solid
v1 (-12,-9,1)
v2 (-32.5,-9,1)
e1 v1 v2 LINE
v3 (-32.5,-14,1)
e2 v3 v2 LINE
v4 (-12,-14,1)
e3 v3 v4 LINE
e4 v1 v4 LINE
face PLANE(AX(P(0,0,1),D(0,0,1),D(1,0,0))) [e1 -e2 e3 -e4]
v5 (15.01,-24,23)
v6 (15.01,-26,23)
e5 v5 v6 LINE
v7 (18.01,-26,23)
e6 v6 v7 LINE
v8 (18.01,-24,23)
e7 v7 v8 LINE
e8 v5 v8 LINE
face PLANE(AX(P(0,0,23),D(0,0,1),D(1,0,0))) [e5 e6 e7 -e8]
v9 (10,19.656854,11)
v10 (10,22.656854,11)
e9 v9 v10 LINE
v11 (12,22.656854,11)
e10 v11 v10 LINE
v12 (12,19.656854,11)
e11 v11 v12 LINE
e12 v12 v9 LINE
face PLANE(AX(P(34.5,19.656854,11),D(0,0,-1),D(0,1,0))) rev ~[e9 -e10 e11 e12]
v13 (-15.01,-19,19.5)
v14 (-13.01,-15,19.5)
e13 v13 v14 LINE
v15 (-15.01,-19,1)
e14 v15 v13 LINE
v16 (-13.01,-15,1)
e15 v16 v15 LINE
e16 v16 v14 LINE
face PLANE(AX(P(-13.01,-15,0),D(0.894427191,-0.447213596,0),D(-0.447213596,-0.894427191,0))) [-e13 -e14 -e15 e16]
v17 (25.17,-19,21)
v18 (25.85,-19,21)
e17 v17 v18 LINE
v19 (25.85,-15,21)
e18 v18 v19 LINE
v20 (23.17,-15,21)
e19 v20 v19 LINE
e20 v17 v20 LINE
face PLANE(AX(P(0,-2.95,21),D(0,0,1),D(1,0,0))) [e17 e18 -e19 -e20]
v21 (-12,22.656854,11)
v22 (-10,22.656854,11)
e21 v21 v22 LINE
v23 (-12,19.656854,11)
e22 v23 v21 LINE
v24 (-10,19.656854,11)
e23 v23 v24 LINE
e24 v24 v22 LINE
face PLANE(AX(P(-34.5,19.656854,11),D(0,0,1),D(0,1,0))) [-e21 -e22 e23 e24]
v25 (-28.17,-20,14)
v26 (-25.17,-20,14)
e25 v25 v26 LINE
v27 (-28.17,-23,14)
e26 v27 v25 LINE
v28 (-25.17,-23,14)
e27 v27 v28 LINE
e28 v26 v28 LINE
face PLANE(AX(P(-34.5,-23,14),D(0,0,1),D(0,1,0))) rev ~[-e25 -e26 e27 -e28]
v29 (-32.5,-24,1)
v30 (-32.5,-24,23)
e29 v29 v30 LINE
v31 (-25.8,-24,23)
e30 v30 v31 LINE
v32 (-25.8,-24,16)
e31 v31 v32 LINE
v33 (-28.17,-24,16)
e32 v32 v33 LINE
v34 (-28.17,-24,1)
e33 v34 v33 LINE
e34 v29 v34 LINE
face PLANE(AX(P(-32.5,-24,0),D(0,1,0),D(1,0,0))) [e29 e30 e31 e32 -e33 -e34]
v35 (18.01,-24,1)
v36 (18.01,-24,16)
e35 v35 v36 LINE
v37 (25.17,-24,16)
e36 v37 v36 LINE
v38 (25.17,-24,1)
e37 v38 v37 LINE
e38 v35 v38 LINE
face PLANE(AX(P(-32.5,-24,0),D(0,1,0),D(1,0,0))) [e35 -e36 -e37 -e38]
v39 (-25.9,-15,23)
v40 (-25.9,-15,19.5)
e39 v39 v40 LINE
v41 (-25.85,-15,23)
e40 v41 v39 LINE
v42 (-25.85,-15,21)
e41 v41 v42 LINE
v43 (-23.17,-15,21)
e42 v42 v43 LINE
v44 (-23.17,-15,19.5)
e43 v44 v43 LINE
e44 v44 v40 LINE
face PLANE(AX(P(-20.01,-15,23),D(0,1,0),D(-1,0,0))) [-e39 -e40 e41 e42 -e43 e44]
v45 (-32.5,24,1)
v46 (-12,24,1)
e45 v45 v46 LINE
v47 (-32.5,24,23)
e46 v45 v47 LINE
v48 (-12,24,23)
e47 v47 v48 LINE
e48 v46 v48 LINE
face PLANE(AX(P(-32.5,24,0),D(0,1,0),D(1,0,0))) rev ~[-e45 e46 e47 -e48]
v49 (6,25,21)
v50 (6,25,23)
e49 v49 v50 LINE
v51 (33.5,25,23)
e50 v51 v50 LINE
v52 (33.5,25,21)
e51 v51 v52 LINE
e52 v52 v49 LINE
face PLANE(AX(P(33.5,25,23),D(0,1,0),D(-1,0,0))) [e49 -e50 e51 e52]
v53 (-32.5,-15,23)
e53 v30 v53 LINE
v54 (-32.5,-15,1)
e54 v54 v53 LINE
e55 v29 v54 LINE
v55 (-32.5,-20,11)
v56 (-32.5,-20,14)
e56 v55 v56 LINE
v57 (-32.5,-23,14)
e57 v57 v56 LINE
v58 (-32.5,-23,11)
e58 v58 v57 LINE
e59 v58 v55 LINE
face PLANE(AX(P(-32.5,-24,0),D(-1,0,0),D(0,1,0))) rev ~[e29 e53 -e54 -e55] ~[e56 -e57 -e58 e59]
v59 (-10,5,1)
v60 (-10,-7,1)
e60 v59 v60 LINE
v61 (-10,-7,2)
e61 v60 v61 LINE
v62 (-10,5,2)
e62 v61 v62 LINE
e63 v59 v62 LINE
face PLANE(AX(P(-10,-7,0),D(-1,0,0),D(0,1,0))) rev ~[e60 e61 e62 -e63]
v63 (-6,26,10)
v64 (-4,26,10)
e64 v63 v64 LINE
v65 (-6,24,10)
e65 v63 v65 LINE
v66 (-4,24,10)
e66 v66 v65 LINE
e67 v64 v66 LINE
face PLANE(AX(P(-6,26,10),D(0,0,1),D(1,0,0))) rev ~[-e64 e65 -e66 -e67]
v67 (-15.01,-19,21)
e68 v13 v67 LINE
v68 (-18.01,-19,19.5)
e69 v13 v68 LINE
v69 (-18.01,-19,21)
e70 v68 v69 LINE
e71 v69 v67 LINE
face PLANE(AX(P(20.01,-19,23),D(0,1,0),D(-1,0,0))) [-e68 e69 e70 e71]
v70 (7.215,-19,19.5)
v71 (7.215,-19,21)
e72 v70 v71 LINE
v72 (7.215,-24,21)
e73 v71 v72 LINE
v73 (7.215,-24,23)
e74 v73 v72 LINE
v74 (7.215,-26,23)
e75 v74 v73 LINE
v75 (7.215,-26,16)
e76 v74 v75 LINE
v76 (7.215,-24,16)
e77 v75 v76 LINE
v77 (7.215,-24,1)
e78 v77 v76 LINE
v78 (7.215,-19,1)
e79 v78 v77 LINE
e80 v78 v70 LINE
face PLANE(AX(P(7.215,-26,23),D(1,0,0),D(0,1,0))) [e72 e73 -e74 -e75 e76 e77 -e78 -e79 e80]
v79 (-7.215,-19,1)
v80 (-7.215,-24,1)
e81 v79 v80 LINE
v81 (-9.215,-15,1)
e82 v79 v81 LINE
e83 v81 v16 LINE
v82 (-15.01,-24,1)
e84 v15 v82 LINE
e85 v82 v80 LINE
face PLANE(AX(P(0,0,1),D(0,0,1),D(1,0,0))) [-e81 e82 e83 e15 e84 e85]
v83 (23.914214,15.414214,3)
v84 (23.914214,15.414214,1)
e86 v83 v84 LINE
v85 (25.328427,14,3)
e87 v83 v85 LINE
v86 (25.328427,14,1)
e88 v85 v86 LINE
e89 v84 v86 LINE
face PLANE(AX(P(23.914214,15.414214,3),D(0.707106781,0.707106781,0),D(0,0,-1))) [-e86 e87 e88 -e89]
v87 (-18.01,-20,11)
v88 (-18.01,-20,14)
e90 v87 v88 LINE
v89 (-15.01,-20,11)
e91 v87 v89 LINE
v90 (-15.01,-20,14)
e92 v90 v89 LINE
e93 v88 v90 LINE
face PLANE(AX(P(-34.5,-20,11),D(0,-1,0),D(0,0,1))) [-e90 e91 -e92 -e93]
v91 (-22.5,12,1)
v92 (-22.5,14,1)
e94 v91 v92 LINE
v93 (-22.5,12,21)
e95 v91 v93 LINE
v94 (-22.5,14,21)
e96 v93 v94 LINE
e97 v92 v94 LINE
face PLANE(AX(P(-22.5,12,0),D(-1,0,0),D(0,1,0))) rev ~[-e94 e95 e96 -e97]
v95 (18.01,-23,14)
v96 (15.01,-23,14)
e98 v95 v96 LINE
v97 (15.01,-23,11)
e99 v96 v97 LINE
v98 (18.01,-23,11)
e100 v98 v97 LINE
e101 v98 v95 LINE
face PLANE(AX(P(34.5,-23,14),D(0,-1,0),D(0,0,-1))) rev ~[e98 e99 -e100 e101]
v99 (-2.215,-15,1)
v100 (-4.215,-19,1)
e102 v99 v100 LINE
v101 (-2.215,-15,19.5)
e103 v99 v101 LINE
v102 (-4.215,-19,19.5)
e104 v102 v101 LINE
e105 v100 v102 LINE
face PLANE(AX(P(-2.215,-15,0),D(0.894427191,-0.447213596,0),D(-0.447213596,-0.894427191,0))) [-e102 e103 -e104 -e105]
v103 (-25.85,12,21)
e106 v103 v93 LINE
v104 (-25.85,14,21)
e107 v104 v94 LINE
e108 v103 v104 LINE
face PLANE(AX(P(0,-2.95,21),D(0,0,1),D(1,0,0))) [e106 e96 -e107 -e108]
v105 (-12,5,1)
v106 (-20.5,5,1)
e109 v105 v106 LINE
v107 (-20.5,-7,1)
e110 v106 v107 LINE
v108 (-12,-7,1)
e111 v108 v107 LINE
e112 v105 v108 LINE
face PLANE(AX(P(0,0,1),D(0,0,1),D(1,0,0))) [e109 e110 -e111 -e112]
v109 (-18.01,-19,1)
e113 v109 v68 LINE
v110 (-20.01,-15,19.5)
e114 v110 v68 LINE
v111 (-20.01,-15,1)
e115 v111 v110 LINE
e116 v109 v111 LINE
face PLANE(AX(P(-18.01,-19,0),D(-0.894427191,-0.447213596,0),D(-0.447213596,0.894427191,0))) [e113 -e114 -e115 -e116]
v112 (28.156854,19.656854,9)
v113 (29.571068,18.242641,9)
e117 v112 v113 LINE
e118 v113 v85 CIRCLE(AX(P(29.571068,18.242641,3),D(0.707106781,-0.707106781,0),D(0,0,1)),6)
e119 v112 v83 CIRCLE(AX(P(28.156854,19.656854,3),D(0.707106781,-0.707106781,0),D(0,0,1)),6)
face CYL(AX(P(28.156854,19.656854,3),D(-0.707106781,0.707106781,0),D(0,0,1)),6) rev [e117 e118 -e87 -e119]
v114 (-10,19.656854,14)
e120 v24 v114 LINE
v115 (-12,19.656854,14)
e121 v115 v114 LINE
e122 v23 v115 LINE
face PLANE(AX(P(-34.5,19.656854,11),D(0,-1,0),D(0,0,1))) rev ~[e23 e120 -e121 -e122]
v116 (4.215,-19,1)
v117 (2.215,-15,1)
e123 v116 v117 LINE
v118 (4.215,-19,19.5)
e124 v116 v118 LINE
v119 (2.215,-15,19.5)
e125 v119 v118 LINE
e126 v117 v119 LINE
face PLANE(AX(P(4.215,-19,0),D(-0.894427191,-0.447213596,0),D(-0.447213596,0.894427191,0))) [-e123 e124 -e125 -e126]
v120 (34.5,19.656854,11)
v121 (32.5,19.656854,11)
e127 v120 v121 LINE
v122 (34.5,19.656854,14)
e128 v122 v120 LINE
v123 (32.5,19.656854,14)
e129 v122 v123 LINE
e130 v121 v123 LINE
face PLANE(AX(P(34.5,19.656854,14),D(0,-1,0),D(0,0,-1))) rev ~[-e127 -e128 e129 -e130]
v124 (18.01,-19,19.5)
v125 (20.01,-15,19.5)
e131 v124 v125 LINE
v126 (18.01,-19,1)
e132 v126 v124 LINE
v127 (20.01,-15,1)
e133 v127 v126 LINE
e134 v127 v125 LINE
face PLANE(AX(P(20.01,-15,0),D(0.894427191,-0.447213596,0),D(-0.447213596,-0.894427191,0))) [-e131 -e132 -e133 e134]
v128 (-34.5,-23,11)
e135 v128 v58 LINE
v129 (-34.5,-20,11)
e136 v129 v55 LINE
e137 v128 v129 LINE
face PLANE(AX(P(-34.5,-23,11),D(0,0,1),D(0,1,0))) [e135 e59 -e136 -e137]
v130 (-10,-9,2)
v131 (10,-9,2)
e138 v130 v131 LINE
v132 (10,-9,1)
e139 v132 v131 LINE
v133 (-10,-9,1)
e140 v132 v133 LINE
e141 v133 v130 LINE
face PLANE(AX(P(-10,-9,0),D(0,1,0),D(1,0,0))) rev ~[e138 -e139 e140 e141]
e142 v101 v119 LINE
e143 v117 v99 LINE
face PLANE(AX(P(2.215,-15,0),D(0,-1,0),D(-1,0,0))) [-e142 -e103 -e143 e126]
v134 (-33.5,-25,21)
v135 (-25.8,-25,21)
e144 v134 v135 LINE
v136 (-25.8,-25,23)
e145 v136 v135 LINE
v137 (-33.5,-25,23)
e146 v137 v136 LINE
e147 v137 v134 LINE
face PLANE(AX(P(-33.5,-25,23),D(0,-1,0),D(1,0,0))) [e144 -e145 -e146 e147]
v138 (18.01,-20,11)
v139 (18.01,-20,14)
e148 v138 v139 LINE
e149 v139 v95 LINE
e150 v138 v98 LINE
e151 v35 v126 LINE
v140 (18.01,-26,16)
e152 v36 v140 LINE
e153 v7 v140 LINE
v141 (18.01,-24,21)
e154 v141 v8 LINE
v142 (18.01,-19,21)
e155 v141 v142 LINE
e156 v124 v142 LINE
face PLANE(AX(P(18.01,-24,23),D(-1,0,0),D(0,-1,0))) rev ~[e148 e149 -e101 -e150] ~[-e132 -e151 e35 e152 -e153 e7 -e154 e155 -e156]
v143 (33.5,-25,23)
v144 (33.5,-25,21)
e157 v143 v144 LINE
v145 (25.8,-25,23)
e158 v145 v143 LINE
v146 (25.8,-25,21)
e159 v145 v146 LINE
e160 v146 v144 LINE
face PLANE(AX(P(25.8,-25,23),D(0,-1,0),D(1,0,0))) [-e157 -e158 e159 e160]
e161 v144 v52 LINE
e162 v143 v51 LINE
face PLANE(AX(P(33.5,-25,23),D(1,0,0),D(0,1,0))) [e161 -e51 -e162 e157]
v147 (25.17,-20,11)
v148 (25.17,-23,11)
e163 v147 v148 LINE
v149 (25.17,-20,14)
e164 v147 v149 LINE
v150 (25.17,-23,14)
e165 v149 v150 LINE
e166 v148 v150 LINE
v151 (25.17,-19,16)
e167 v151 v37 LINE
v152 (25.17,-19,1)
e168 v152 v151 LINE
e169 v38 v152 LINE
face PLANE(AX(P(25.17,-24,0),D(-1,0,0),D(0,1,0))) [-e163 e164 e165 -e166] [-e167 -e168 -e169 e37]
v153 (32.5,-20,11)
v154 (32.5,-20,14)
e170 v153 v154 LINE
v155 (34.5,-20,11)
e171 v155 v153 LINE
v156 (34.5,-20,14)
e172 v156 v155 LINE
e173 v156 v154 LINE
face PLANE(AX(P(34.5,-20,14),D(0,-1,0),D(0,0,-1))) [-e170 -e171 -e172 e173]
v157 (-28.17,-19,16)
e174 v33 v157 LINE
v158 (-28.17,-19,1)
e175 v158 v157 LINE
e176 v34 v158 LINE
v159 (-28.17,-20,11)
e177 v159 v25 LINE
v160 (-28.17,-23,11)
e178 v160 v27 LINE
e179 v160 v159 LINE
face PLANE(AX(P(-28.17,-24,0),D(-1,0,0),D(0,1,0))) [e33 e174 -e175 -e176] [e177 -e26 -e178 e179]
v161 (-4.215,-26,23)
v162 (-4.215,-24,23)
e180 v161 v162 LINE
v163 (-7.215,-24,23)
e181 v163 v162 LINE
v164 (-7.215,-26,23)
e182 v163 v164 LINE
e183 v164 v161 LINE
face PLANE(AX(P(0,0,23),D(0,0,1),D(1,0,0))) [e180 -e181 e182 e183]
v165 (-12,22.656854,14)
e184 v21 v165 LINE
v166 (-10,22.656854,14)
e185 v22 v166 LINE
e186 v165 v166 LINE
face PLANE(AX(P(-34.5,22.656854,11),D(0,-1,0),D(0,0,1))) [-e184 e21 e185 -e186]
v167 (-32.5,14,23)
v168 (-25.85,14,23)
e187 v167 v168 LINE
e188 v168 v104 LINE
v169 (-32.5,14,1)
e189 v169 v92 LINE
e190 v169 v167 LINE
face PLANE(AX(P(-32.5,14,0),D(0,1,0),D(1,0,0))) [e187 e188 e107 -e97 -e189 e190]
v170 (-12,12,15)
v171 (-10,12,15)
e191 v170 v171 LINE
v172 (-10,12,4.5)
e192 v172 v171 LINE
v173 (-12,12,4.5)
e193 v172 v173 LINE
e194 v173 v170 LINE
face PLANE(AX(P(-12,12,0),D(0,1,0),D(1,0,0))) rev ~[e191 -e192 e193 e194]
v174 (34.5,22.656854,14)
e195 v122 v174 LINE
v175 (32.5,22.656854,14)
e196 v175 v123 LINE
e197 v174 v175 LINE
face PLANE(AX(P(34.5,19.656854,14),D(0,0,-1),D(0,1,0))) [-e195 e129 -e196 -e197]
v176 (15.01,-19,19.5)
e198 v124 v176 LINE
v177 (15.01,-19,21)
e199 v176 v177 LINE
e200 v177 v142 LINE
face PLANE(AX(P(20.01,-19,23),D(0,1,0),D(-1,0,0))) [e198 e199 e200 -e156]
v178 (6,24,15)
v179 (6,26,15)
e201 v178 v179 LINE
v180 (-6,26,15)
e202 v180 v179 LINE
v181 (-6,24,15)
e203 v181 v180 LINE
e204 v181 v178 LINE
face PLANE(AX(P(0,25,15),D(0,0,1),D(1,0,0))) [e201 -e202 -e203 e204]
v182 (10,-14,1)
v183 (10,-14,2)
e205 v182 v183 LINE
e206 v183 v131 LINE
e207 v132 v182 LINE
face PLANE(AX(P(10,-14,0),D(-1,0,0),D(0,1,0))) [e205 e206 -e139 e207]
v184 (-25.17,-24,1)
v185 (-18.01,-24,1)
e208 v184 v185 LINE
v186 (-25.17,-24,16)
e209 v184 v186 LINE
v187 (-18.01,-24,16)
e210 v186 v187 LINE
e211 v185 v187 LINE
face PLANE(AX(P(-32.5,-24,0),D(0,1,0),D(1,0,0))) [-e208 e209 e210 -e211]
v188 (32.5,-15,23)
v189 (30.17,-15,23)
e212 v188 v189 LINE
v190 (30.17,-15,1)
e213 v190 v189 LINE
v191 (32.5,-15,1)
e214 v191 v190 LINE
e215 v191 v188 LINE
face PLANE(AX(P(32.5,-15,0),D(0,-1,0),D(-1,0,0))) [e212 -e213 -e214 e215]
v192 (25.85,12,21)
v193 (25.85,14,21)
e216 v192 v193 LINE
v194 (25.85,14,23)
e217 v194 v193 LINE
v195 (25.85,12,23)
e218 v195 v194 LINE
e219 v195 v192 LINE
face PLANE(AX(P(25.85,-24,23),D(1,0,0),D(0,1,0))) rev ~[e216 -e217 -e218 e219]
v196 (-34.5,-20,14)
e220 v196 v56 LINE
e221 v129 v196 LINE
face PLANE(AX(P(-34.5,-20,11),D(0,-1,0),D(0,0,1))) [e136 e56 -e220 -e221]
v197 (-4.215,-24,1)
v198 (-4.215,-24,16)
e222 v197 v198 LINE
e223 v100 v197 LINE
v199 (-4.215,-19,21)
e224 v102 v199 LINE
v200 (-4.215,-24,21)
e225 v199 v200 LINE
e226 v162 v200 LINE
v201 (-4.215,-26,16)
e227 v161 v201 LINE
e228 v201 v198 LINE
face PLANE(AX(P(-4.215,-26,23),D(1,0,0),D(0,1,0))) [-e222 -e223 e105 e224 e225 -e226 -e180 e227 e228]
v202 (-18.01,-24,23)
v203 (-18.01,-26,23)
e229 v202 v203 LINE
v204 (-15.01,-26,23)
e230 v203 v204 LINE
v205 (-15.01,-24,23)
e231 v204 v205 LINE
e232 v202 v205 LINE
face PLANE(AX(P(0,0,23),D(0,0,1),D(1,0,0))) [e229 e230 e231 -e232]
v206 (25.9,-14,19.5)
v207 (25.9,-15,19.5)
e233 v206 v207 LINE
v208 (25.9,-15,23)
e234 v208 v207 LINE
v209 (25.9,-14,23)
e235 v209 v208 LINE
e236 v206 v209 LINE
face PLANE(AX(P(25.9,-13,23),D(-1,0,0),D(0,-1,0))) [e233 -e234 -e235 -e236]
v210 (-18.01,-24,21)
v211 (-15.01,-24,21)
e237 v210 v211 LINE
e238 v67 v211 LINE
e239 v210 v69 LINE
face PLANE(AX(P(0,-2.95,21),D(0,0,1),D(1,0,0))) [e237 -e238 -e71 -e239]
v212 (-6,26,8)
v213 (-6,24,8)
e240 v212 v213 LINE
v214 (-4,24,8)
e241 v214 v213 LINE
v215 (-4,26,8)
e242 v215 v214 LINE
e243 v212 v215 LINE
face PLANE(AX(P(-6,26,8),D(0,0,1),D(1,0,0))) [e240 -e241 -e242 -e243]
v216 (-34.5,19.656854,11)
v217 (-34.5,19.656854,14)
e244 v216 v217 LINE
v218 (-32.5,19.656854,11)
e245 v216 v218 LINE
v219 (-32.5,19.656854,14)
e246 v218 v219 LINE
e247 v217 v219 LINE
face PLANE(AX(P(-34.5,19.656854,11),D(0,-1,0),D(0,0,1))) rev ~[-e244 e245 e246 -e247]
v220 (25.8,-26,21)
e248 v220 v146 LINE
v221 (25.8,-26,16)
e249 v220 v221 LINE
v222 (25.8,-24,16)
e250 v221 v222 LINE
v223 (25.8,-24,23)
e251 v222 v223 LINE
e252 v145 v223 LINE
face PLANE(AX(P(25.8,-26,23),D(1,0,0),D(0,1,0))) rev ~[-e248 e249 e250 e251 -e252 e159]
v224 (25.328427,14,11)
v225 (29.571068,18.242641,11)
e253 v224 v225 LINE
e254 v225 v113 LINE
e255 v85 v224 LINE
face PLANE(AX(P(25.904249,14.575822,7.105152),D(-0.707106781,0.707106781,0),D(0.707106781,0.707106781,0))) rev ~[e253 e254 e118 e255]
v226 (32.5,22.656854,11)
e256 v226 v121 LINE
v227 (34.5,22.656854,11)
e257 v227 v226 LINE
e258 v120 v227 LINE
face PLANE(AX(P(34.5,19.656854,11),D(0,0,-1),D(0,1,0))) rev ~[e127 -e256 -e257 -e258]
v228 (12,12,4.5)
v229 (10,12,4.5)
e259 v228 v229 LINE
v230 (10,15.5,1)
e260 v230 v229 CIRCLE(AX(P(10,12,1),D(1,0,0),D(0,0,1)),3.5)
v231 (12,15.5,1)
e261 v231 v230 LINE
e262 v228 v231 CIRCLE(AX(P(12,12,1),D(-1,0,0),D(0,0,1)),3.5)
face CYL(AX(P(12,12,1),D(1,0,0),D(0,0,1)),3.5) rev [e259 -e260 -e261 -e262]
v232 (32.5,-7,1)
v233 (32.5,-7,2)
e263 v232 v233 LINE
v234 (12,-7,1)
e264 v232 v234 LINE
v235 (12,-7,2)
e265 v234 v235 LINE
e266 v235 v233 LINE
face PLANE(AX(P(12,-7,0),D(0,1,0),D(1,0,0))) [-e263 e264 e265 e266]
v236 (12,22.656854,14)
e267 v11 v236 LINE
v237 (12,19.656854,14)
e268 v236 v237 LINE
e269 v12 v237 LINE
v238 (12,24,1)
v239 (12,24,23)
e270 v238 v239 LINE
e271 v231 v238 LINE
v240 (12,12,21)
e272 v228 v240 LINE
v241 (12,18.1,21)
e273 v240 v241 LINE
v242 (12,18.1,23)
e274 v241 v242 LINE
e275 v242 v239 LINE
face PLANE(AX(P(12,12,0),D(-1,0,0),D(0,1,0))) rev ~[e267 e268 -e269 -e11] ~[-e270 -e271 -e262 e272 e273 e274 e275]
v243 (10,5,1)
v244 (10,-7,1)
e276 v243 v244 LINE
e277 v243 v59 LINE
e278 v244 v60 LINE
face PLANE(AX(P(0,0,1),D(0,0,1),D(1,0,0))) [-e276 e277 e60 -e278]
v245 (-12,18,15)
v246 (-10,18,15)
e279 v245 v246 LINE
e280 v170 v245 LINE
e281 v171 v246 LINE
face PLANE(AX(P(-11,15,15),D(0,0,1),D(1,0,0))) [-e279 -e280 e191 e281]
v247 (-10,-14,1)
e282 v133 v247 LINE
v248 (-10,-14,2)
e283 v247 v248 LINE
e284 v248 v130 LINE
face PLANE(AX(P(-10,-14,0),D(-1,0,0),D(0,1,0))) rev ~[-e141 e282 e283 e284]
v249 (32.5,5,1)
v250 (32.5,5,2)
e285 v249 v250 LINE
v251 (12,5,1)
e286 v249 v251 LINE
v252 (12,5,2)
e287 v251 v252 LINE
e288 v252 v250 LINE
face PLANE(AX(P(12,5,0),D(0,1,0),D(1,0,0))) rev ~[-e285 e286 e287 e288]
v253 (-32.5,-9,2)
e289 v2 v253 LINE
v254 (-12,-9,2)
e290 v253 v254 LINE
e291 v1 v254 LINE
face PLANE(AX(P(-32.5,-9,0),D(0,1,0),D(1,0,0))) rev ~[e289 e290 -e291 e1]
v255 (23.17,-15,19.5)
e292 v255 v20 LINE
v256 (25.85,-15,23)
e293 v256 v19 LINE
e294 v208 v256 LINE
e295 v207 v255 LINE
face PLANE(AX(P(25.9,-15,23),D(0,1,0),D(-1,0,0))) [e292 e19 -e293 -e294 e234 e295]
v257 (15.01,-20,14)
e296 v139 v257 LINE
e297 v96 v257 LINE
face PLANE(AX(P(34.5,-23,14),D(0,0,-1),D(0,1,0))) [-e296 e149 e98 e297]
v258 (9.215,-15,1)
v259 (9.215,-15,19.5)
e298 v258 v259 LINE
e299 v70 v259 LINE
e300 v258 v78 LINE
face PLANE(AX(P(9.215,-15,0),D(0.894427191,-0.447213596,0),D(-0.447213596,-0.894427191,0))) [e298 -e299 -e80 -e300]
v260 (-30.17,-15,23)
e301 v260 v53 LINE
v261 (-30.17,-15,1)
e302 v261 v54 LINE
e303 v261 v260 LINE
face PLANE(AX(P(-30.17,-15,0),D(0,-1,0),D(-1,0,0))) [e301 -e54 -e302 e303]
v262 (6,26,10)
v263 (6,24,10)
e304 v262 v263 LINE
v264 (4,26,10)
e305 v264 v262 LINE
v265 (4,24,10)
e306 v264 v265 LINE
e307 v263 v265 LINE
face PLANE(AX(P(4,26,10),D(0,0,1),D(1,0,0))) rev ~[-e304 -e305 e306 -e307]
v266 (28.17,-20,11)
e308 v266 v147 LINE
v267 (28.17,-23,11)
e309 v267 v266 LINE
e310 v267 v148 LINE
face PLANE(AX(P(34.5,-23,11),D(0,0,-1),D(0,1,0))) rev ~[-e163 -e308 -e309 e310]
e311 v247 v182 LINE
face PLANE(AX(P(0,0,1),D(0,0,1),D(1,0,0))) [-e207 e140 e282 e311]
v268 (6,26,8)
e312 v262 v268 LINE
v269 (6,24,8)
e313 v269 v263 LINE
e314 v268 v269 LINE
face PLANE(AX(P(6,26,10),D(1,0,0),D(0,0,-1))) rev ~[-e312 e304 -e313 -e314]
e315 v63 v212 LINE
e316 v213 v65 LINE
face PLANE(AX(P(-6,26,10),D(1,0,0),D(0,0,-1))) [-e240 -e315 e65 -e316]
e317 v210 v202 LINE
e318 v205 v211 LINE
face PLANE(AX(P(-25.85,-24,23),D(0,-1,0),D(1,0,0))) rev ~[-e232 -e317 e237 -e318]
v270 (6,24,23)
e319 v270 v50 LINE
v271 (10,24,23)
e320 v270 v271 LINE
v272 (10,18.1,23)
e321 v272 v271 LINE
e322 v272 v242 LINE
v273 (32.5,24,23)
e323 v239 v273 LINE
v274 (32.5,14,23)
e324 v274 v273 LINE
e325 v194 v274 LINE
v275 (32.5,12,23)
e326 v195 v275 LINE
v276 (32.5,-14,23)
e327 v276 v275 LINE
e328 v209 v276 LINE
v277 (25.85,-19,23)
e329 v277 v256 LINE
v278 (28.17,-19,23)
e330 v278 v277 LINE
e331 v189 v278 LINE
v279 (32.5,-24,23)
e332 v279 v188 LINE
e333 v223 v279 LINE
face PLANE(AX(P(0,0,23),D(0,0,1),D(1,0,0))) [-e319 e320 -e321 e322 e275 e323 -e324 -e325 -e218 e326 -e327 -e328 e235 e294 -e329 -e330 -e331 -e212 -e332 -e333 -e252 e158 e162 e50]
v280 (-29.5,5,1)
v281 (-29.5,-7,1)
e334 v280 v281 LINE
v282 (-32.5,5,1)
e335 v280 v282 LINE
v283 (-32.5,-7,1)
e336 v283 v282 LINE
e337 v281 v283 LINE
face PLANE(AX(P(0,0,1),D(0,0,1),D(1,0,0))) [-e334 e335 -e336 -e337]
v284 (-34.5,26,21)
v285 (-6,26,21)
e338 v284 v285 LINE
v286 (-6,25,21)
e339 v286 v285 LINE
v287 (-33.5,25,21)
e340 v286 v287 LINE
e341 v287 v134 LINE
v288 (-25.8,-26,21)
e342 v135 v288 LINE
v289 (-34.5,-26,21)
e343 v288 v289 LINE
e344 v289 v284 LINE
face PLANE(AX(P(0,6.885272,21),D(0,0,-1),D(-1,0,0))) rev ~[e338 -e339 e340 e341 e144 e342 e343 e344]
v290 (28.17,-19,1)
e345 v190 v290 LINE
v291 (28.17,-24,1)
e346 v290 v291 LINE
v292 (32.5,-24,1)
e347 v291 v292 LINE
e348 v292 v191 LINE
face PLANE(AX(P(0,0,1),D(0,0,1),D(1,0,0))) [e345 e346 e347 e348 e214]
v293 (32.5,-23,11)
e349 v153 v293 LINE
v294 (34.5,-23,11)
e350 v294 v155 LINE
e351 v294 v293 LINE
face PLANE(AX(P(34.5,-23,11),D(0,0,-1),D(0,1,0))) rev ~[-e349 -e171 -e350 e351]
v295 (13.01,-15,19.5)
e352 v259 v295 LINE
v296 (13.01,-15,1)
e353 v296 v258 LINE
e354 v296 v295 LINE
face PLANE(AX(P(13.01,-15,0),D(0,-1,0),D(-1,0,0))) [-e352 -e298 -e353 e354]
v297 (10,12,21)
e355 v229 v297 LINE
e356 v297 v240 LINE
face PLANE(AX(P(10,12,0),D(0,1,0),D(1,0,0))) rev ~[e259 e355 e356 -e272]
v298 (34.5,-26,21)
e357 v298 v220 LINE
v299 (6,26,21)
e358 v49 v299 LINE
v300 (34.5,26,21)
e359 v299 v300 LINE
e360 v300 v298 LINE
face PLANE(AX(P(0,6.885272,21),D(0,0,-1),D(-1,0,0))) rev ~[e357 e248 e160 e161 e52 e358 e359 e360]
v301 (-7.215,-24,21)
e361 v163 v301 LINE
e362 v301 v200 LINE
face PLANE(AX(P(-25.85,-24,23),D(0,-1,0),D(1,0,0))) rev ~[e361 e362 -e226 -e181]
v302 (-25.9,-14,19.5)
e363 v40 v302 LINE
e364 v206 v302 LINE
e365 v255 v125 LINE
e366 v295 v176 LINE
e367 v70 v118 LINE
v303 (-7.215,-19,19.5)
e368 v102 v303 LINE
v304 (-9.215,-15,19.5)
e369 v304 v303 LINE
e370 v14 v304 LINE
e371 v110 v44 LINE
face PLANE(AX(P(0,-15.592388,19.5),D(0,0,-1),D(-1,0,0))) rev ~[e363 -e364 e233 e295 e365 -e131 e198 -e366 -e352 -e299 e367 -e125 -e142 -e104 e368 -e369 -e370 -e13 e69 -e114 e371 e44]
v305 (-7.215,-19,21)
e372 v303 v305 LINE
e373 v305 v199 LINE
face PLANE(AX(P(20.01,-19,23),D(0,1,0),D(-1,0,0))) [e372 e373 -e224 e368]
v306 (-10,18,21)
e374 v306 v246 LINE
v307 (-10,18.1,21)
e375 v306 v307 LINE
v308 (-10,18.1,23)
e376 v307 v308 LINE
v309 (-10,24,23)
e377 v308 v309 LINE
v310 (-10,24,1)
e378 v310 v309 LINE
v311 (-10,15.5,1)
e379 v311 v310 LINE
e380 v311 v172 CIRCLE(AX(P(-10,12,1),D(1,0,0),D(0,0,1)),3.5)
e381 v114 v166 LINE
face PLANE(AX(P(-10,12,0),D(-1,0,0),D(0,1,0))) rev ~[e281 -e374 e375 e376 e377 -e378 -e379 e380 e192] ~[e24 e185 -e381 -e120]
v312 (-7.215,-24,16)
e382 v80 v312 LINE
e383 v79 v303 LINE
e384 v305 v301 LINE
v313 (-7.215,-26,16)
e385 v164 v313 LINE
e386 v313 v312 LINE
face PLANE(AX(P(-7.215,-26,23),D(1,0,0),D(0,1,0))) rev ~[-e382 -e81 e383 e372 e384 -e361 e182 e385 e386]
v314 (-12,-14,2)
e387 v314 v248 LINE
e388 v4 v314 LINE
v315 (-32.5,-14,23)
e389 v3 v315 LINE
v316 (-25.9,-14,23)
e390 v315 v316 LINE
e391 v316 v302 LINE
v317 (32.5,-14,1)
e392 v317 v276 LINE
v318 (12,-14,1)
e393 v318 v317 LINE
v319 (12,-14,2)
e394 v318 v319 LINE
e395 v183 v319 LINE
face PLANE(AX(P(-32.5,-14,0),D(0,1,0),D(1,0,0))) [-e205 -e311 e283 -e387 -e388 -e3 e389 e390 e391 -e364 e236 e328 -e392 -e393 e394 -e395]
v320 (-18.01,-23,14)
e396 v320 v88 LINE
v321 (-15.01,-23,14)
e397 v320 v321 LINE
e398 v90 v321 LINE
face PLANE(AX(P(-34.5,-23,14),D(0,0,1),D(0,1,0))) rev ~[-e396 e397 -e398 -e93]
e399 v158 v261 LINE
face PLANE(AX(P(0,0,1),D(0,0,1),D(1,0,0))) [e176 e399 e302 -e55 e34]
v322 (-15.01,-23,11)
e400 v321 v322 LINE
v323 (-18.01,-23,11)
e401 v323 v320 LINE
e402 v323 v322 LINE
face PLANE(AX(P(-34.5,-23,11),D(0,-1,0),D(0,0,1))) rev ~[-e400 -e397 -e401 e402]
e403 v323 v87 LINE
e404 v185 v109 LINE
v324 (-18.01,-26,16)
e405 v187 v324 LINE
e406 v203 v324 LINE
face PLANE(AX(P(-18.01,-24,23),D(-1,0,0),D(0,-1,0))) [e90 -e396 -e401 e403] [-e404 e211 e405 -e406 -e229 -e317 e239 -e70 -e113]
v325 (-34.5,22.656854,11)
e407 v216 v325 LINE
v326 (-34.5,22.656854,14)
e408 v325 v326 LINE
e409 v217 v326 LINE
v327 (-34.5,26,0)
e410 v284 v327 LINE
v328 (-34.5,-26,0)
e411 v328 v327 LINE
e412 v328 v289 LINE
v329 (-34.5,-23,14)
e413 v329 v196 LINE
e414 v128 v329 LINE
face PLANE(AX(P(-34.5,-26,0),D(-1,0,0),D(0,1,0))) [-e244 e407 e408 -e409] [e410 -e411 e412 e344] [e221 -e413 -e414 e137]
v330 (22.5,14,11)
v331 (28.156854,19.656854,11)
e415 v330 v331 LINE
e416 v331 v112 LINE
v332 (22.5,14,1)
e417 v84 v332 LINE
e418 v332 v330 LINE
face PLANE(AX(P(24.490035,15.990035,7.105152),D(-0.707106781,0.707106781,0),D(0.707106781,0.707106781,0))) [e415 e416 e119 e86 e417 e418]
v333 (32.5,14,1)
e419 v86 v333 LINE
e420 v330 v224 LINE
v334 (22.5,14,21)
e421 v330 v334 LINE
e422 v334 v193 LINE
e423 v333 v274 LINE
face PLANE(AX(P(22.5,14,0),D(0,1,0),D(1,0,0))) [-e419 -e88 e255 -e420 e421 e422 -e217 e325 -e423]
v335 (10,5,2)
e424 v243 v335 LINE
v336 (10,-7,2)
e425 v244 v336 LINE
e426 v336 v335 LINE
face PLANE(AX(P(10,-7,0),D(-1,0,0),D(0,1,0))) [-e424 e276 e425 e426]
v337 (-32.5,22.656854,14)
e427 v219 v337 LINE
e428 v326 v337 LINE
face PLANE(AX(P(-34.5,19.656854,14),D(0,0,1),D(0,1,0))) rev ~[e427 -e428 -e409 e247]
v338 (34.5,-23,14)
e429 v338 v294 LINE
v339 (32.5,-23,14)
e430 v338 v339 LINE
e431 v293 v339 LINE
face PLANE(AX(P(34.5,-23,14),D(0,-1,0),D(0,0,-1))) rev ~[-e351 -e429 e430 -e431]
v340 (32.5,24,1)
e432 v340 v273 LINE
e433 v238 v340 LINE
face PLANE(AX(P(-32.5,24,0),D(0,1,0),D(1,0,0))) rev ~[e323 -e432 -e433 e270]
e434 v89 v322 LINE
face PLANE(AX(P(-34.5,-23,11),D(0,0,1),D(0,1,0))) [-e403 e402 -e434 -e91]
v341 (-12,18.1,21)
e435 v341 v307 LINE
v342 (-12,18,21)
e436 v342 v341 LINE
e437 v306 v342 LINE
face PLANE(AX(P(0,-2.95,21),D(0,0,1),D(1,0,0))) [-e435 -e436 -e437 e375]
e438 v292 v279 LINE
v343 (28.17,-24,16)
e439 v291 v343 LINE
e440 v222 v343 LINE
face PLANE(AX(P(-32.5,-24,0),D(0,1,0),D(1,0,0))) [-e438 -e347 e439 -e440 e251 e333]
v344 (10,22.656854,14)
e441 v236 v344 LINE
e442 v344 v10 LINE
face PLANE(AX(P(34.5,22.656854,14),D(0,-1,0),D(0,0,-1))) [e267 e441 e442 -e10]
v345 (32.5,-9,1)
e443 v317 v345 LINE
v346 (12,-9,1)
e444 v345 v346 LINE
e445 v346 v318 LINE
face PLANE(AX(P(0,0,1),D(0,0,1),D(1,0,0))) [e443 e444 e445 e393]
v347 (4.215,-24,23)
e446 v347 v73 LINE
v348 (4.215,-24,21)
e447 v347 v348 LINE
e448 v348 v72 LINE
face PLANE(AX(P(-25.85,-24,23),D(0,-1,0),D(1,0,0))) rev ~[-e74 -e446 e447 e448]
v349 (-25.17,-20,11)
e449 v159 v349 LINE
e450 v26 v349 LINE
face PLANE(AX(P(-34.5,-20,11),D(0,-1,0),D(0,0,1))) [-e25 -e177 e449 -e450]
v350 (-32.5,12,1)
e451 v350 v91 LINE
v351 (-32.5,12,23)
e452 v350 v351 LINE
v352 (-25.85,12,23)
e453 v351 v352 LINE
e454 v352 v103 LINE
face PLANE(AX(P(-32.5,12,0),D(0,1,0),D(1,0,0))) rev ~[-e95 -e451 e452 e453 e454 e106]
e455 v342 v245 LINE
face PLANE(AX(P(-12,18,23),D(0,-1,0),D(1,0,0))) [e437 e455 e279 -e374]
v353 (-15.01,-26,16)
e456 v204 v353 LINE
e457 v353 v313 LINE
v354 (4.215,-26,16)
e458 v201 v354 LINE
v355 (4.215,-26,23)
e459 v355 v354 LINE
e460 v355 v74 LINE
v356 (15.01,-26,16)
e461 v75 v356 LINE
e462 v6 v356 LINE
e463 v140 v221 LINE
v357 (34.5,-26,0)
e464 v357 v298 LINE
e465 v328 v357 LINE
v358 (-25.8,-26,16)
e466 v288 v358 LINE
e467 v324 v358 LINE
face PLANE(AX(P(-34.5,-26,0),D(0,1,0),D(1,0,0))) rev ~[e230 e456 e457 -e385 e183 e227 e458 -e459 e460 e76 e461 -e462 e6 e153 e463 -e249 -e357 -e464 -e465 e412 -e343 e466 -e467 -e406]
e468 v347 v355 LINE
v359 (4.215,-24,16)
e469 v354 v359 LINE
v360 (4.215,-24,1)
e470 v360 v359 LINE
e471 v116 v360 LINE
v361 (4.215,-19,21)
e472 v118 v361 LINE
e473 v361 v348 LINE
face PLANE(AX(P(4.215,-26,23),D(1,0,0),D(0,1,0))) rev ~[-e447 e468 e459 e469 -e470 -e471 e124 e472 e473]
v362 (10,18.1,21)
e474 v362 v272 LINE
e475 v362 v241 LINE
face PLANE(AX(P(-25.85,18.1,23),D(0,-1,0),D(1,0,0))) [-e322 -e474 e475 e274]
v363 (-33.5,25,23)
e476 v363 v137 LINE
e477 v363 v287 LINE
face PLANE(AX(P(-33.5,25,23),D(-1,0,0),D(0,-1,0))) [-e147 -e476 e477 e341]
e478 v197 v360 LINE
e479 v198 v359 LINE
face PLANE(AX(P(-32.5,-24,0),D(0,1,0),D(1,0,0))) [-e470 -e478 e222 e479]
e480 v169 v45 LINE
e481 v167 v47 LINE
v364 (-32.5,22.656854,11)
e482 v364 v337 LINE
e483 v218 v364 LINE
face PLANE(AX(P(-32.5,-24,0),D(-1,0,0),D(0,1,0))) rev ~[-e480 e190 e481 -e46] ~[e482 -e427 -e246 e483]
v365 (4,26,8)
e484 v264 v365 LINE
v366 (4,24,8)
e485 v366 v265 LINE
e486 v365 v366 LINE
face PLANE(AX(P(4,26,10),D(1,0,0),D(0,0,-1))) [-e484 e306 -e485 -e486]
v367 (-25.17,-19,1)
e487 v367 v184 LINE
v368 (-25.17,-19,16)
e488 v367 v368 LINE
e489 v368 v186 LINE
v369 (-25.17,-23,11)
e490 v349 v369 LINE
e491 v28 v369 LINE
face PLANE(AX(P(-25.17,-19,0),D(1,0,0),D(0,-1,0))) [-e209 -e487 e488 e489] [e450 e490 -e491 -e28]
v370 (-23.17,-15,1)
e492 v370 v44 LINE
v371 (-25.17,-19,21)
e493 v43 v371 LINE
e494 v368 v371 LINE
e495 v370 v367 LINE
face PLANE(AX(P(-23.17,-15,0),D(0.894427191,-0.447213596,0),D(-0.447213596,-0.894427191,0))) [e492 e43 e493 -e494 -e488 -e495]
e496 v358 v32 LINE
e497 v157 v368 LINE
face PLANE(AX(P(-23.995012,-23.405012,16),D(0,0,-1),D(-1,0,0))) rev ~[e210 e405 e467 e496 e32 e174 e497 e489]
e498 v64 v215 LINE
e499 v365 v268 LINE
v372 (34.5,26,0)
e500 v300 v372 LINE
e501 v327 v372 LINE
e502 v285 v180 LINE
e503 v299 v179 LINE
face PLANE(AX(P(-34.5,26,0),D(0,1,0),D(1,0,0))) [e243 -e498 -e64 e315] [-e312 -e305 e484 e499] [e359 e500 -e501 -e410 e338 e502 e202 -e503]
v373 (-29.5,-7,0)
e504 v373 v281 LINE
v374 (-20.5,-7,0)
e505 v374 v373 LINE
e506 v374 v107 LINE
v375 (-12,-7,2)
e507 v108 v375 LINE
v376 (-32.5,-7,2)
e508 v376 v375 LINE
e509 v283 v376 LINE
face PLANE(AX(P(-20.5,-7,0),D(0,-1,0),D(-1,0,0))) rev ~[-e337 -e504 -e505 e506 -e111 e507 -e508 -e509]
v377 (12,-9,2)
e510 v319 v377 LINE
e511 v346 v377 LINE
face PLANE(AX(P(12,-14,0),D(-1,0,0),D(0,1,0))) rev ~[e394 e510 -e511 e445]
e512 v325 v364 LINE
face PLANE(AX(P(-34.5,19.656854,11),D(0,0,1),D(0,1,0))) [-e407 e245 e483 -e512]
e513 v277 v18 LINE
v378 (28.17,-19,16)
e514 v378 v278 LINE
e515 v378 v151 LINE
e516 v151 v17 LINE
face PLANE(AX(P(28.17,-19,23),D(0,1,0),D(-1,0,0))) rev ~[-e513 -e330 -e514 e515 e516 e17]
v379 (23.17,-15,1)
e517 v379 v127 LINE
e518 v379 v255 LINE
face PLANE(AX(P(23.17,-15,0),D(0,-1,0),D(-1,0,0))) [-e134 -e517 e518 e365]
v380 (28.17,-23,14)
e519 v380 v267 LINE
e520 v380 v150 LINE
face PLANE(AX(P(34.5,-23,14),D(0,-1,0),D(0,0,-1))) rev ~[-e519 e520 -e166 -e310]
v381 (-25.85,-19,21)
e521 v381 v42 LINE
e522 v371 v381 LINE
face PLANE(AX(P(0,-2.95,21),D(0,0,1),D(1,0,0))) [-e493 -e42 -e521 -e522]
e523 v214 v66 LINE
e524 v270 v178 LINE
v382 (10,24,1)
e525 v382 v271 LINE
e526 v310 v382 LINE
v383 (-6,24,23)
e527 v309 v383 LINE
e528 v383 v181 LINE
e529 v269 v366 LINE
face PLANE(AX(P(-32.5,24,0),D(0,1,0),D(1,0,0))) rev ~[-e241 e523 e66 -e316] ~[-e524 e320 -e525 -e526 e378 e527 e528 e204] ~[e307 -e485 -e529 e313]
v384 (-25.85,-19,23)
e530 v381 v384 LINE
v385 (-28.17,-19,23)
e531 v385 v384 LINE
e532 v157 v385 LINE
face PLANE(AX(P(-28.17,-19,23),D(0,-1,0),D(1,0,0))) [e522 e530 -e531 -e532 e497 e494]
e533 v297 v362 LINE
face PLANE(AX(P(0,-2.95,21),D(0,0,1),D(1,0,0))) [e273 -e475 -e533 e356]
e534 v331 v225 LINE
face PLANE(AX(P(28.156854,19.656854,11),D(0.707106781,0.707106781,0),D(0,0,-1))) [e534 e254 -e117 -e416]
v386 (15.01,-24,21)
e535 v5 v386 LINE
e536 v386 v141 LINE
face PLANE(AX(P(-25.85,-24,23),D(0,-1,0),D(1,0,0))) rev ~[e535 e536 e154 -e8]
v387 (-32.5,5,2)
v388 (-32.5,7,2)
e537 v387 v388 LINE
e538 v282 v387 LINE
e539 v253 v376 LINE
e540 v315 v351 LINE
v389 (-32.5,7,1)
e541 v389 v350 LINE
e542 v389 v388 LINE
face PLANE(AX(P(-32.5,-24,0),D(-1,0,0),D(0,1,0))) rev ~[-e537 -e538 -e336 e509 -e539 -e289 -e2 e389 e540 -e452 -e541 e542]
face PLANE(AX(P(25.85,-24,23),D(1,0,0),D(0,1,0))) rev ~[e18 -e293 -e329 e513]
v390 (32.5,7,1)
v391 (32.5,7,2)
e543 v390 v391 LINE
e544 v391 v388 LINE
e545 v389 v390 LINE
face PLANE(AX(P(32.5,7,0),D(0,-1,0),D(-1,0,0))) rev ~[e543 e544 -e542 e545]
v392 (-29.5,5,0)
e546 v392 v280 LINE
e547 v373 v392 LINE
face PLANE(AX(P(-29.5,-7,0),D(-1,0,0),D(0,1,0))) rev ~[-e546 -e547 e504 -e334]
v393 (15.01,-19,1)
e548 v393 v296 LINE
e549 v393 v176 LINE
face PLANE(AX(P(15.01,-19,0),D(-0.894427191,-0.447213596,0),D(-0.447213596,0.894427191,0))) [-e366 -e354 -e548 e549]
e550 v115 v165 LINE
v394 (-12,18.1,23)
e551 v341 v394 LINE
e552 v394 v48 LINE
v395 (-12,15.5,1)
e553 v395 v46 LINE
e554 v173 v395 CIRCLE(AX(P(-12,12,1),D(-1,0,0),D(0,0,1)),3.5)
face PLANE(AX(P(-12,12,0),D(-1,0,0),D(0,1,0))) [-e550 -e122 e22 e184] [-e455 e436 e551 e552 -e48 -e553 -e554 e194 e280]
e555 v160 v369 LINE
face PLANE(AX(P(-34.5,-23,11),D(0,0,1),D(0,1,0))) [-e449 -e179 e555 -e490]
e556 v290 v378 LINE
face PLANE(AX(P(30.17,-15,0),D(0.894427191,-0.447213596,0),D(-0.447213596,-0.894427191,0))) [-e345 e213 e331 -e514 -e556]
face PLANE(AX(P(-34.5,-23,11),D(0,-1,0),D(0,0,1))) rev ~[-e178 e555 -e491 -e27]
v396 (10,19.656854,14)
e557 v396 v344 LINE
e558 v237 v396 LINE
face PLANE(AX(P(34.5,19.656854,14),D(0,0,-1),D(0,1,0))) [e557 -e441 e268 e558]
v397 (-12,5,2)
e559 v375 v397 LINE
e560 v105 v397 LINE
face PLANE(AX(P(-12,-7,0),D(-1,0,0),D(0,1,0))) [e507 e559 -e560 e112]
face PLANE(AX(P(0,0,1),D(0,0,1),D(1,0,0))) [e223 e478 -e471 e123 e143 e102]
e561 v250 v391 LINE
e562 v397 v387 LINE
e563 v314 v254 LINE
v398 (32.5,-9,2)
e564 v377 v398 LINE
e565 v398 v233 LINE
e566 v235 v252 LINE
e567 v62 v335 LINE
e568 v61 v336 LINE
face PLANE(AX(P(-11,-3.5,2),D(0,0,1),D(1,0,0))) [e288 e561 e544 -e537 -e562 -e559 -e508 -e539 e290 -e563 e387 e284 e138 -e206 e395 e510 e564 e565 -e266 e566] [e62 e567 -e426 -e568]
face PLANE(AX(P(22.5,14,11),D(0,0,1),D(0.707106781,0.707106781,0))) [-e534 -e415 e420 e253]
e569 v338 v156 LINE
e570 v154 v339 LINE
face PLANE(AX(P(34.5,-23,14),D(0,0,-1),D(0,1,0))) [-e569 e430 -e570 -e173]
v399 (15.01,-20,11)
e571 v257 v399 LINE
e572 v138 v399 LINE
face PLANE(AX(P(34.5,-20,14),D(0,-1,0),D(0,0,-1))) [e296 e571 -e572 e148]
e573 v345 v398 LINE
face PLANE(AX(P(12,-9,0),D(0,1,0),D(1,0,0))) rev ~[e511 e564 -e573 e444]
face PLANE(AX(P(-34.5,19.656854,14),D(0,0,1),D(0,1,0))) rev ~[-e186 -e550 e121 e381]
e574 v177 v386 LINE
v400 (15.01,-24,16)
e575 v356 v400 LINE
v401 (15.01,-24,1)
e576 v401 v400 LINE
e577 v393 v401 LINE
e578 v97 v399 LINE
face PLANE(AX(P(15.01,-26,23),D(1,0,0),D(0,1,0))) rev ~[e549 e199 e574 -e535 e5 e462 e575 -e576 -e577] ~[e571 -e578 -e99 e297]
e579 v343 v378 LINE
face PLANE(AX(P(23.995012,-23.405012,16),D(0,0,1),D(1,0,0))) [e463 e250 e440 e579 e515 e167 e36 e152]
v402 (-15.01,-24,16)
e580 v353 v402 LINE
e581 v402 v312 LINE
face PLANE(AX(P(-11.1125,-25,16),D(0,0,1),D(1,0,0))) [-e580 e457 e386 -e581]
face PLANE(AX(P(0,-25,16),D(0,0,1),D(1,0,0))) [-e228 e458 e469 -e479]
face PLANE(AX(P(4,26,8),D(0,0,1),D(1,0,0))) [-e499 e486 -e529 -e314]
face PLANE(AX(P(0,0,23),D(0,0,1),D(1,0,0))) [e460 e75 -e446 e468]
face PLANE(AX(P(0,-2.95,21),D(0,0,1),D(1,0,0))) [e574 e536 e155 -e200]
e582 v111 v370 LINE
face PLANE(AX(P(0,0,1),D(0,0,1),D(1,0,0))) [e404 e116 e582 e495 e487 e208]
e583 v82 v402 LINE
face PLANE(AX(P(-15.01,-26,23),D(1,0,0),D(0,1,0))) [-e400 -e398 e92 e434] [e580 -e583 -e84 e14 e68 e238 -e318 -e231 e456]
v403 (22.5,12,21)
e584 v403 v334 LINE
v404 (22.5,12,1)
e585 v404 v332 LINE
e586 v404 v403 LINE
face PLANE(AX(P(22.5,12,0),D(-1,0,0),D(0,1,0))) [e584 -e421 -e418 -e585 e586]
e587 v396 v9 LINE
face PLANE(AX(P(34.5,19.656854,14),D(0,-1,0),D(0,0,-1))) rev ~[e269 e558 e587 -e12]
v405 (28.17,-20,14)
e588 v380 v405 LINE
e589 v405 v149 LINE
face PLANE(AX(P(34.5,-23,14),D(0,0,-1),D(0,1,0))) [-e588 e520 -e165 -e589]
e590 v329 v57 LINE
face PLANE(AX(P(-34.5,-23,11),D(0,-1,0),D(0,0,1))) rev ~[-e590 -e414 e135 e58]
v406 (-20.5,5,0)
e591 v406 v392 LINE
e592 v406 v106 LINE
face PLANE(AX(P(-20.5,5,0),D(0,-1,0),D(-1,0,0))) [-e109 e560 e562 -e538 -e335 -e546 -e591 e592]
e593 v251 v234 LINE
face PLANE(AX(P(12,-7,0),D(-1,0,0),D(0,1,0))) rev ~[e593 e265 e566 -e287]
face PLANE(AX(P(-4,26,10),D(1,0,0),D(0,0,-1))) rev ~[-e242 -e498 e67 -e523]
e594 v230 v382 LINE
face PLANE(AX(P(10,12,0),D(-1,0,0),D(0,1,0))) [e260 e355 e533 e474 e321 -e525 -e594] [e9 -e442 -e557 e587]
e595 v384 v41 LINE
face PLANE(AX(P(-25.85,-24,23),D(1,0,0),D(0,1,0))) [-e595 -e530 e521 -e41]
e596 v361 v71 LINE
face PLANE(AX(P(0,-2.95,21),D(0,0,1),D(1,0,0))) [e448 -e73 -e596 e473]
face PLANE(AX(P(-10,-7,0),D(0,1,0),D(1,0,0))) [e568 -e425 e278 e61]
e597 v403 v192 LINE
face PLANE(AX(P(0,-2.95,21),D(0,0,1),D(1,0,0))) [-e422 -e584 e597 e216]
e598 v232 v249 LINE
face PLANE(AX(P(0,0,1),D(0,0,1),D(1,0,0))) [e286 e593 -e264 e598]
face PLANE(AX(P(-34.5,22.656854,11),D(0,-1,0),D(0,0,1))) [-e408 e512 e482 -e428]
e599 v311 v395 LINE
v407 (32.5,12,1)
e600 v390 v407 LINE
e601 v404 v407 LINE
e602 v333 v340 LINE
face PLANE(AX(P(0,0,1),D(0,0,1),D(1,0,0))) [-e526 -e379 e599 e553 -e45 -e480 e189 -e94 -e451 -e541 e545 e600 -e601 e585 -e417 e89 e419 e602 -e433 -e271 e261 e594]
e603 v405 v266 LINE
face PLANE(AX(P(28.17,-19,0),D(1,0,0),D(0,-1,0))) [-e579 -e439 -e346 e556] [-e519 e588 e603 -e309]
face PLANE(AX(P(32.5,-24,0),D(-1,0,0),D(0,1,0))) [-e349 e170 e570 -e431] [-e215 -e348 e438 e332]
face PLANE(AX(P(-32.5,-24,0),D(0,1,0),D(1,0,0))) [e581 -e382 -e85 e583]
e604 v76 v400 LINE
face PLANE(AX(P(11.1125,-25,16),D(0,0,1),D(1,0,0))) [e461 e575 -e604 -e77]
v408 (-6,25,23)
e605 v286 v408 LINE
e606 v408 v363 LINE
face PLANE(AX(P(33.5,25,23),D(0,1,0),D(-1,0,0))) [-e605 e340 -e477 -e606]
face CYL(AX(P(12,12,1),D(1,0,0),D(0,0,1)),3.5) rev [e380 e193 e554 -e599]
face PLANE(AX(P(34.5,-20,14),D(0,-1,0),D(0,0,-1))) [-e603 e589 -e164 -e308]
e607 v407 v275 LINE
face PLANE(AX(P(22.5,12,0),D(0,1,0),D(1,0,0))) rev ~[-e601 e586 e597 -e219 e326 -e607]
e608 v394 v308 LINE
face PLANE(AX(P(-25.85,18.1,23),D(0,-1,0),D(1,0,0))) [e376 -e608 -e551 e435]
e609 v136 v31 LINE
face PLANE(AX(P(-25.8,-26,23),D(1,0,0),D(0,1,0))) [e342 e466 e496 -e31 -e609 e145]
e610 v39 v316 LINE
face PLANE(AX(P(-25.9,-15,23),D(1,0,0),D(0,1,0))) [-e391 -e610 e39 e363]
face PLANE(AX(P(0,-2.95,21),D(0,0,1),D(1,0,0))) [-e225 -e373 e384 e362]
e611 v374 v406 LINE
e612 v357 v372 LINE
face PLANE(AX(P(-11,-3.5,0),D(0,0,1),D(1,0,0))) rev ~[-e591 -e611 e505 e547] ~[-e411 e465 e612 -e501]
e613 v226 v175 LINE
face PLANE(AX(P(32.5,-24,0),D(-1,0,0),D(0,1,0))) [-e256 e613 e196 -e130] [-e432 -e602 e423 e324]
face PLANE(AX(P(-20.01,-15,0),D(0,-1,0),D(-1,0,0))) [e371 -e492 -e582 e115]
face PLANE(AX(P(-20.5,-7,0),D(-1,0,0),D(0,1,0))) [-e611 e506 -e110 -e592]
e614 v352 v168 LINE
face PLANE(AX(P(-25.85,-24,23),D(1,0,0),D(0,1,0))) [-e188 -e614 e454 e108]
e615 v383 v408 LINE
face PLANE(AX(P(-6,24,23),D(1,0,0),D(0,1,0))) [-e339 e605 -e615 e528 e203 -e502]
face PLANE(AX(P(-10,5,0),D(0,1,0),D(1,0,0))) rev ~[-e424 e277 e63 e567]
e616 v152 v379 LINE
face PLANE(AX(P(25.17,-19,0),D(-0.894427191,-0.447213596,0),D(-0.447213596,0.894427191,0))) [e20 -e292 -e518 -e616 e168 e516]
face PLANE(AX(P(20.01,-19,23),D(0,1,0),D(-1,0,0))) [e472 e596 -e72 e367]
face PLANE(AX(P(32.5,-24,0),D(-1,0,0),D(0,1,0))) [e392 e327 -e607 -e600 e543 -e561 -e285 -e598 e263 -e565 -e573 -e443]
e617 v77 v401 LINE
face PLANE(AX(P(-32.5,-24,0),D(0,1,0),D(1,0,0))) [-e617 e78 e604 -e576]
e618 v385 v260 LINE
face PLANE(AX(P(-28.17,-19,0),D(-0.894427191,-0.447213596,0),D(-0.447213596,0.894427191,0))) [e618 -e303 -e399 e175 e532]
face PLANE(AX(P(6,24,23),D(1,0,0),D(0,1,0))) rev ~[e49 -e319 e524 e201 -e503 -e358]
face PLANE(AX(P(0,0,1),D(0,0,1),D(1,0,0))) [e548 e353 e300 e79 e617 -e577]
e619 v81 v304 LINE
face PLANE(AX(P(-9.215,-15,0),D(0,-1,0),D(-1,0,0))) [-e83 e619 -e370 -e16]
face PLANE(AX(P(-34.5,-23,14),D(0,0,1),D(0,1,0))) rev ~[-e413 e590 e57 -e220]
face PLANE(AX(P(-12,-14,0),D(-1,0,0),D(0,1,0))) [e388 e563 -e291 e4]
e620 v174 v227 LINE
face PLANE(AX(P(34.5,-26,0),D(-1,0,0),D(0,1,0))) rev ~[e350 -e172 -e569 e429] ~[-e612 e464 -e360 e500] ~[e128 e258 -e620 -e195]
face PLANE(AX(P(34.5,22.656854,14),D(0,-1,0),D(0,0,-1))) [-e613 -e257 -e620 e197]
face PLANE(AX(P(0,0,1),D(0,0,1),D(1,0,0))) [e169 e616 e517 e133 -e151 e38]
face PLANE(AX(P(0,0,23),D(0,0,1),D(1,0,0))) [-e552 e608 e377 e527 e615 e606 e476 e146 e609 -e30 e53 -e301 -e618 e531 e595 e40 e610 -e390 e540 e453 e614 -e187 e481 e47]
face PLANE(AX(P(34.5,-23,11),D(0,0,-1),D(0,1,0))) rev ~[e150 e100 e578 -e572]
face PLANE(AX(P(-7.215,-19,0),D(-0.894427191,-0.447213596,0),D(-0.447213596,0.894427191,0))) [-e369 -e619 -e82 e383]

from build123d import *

# Parameters (mm, degrees)
SKICA1_W                    = 69
SKICA1_H                    = 52
SKICA1_W_2                  = 65
SKICA1_H_2                  = 48
VYSUNOUT_TENKOST_NN_1_DEPTH = 23
SKICA2_W                    = 10
SKICA2_H                    = 2
SKICA2_W_2                  = 2
SKICA2_H_2                  = 12
P_IDAT_EBRA_DEPTH           = 23
SKICA3_W                    = 2
SKICA3_H                    = 6
SKICA3_W_2                  = 12
SKICA3_H_2                  = 2
ODEBRAT_8_MM_DEPTH          = 8
SKICA4_W                    = 8.43
SKICA4_H                    = 2
SKICA4_W_2                  = 7.795
ODEBRAT_7_MM_DEPTH          = 7
ODEBRAT_3_5_MM_DEPTH        = 3.5
SKICA6_W                    = 51.7
SKICA6_H                    = 42.1
ODEBRAT_2_MM_DEPTH          = 2
SKICA8_W                    = 69
SKICA8_H                    = 52
P_IDAT_DNO_DEPTH            = 1
SKICA9_W                    = 2
SKICA9_H                    = 21
SKICA9_W_2                  = 65
SKICA9_H_2                  = 2
P_IDAT_EBRA_DNO_DEPTH       = 2
SKICA10_W                   = 9
SKICA10_H                   = 12
ODEBRAT_VYP_NA_DEPTH        = 24
P_IDAT_H_EK_DEPTH           = 2
SKICA12_W                   = 3
SKICA12_H                   = 3
ODEBRAT_VYSUNUT_M1_DEPTH    = 24.5
SKICA13_W                   = 3
SKICA13_H                   = 3
ODEBRAT_VYSUNUT_M2_DEPTH    = 24.5
ODEBRAT_VYSUNUT_M3_REACH    = 54
SKICA14_W                   = 2
SKICA14_H                   = 2
ODEBRAT_VYSUNUT_M4_DEPTH    = 24


with BuildPart() as part:
    # Skica1 → Vysunout tenkost_nn_1 (new body)
    with BuildSketch(Plane.XY):
        Rectangle(SKICA1_W, SKICA1_H)
        Rectangle(SKICA1_W_2, SKICA1_H_2, mode=Mode.SUBTRACT)
    extrude(amount=VYSUNOUT_TENKOST_NN_1_DEPTH)

    # Skica2 → P_idat _ebra (add)
    with BuildSketch(Plane.XY):
        Polygon((-32.5, -15), (-32.5, -14), (32.5, -14), (32.5, -15), (30.17, -15), (28.17, -19), (28.17, -24), (25.17, -24), (25.17, -19), (23.17, -15), (20.01, -15), (18.01, -19), (18.01, -24), (15.01, -24), (15.01, -19), (13.01, -15), (9.215, -15), (7.215, -19), (7.215, -24), (4.215, -24), (4.215, -19), (2.215, -15), (-2.215, -15), (-4.215, -19), (-4.215, -24), (-7.215, -24), (-7.215, -19), (-9.215, -15), (-13.01, -15), (-15.01, -19), (-15.01, -24), (-18.01, -24), (-18.01, -19), (-20.01, -15), (-23.17, -15), (-25.17, -19), (-25.17, -24), (-28.17, -24), (-28.17, -19), (-30.17, -15), align=None)
        with Locations((-27.5, 13)):
            Rectangle(SKICA2_W, SKICA2_H)
        with Locations((27.5, 13)):
            Rectangle(SKICA2_W, SKICA2_H)
        with Locations((11, 18)):
            Rectangle(SKICA2_W_2, SKICA2_H_2)
        with Locations((-11, 18)):
            Rectangle(SKICA2_W_2, SKICA2_H_2)
    extrude(amount=P_IDAT_EBRA_DEPTH)

    # Skica3 → Odebrat 8 mm (cut)
    with BuildSketch(Plane.XY.offset(23)):
        with Locations((-11, 15)):
            Rectangle(SKICA3_W, SKICA3_H)
        with Locations((0, 25)):
            Rectangle(SKICA3_W_2, SKICA3_H_2)
    extrude(amount=-ODEBRAT_8_MM_DEPTH, mode=Mode.SUBTRACT)

    # Skica4 → Odebrat 7 mm (cut)
    with BuildSketch(Plane.XY.offset(23)):
        with Locations((0, -25)):
            Rectangle(SKICA4_W, SKICA4_H)
        with Locations((11.1125, -25)):
            Rectangle(SKICA4_W_2, SKICA4_H)
        with Locations((-11.1125, -25)):
            Rectangle(SKICA4_W_2, SKICA4_H)
        Polygon((18.01, -24), (18.01, -26), (25.8, -26), (25.8, -24), (28.17, -24), (28.17, -19), (25.17, -19), (25.17, -24), align=None)
        Polygon((-18.01, -24), (-18.01, -26), (-25.8, -26), (-25.8, -24), (-28.17, -24), (-28.17, -19), (-25.17, -19), (-25.17, -24), align=None)
    extrude(amount=-ODEBRAT_7_MM_DEPTH, mode=Mode.SUBTRACT)

    # Skica5 → Odebrat 3_5 mm (cut)
    with BuildSketch(Plane.XY.offset(23)):
        Polygon((-25.9, -13), (25.9, -13), (25.9, -15), (20.01, -15), (20.01, -19), (-20.01, -19), (-20.01, -15), (-25.9, -15), align=None)
    extrude(amount=-ODEBRAT_3_5_MM_DEPTH, mode=Mode.SUBTRACT)

    # Skica6 → Odebrat 2 mm (cut)
    with BuildSketch(Plane.XY.offset(23)):
        with Locations((0, -2.95)):
            Rectangle(SKICA6_W, SKICA6_H)
        Polygon((-34.5, 26), (34.5, 26), (34.5, -26), (25.8, -26), (25.8, -25), (33.5, -25), (33.5, 25), (-33.5, 25), (-33.5, -25), (-25.8, -25), (-25.8, -26), (-34.5, -26), align=None)
    extrude(amount=-ODEBRAT_2_MM_DEPTH, mode=Mode.SUBTRACT)

    # Skica8 → P_idat dno (add)
    with BuildSketch(Plane.XY):
        Rectangle(SKICA8_W, SKICA8_H)
    extrude(amount=P_IDAT_DNO_DEPTH)

    # Skica9 → P_idat _ebra _dno (add)
    with BuildSketch(Plane.XY):
        with Locations((-11, -3.5)):
            Rectangle(SKICA9_W, SKICA9_H)
        with Locations((11, -3.5)):
            Rectangle(SKICA9_W, SKICA9_H)
        with Locations((0, 6)):
            Rectangle(SKICA9_W_2, SKICA9_H_2)
        with Locations((0, -8)):
            Rectangle(SKICA9_W_2, SKICA9_H_2)
    extrude(amount=P_IDAT_EBRA_DNO_DEPTH)

    # Skica10 → Odebrat vyp_na (cut, through all)
    with BuildSketch(Plane(origin=(0, 0, 0), x_dir=(-1, 0, 0), z_dir=(0, 0, -1))):
        with Locations((25, -1)):
            Rectangle(SKICA10_W, SKICA10_H)
    extrude(amount=-ODEBRAT_VYP_NA_DEPTH, mode=Mode.SUBTRACT)

    # Skica11 → P_idat h_ek (add)
    with BuildSketch(Plane(origin=(4.25, -4.25, 0), x_dir=(0.707106781, 0.707106781, 0), z_dir=(-0.707106781, 0.707106781, 0))):
        with BuildLine():
            Line((25.809397513, -1), (25.809397513, -11))
            Line((25.809397513, -11), (33.809397513, -11))
            Line((33.809397513, -11), (33.809397513, -9))
            ThreePointArc((33.809397513, -9), (29.566756826, -7.242640687), (27.809397513, -3))
            Line((27.809397513, -3), (27.809397513, -1))
            Line((27.809397513, -1), (25.809397513, -1))
        make_face()
    extrude(amount=-P_IDAT_H_EK_DEPTH)

    # Skica12 → Odebrat vysunut_m1 (cut)
    with BuildSketch(Plane(origin=(34.5, 0, 0), x_dir=(0, 0, -1), z_dir=(1, 0, 0))):
        with Locations((-12.5, 21.156854249)):
            Rectangle(SKICA12_W, SKICA12_H)
        with Locations((-12.5, -21.5)):
            Rectangle(SKICA12_W, SKICA12_H)
    extrude(amount=-ODEBRAT_VYSUNUT_M1_DEPTH, mode=Mode.SUBTRACT)

    # Skica13 → Odebrat vysunut_m2 (cut)
    with BuildSketch(Plane.ZY.offset(34.5)):
        with Locations((12.5, 21.156854249)):
            Rectangle(SKICA13_W, SKICA13_H)
        with Locations((12.5, -21.5)):
            Rectangle(SKICA13_W, SKICA13_H)
    extrude(amount=-ODEBRAT_VYSUNUT_M2_DEPTH, mode=Mode.SUBTRACT)

    # Skica14 → Odebrat vysunut_m3 (cut, up to next)
    with BuildSketch(Plane(origin=(0, 26, 0), x_dir=(1, 0, 0), z_dir=(0, 1, 0)), mode=Mode.PRIVATE) as odebrat_vysunut_m3_sk1:
        with Locations((5, -9)):
            Rectangle(SKICA14_W, SKICA14_H)
    odebrat_vysunut_m3_tool1 = extrude(odebrat_vysunut_m3_sk1.sketch, amount=-ODEBRAT_VYSUNUT_M3_REACH, mode=Mode.PRIVATE) & part.part
    add(odebrat_vysunut_m3_tool1.solids().sort_by_distance((5, 26, 9))[0], mode=Mode.SUBTRACT)
    # Skica14 → Odebrat vysunut_m3 (cut, up to next)
    with BuildSketch(Plane(origin=(0, 26, 0), x_dir=(1, 0, 0), z_dir=(0, 1, 0)), mode=Mode.PRIVATE) as odebrat_vysunut_m3_sk2:
        with Locations((-5, -9)):
            Rectangle(SKICA14_W, SKICA14_H)
    odebrat_vysunut_m3_tool2 = extrude(odebrat_vysunut_m3_sk2.sketch, amount=-ODEBRAT_VYSUNUT_M3_REACH, mode=Mode.PRIVATE) & part.part
    add(odebrat_vysunut_m3_tool2.solids().sort_by_distance((-5, 26, 9))[0], mode=Mode.SUBTRACT)

    # Skica15 → Odebrat vysunut_m4 (cut)
    with BuildSketch(Plane(origin=(12, 0, 0), x_dir=(0, 0, -1), z_dir=(1, 0, 0))):
        with BuildLine():
            Line((-1, 15.5), (-1, 12))
            Line((-1, 12), (-4.5, 12))
            ThreePointArc((-4.5, 12), (-3.474873734, 14.474873734), (-1, 15.5))
        make_face()
    extrude(amount=-ODEBRAT_VYSUNUT_M4_DEPTH, mode=Mode.SUBTRACT)


solid = part.part
